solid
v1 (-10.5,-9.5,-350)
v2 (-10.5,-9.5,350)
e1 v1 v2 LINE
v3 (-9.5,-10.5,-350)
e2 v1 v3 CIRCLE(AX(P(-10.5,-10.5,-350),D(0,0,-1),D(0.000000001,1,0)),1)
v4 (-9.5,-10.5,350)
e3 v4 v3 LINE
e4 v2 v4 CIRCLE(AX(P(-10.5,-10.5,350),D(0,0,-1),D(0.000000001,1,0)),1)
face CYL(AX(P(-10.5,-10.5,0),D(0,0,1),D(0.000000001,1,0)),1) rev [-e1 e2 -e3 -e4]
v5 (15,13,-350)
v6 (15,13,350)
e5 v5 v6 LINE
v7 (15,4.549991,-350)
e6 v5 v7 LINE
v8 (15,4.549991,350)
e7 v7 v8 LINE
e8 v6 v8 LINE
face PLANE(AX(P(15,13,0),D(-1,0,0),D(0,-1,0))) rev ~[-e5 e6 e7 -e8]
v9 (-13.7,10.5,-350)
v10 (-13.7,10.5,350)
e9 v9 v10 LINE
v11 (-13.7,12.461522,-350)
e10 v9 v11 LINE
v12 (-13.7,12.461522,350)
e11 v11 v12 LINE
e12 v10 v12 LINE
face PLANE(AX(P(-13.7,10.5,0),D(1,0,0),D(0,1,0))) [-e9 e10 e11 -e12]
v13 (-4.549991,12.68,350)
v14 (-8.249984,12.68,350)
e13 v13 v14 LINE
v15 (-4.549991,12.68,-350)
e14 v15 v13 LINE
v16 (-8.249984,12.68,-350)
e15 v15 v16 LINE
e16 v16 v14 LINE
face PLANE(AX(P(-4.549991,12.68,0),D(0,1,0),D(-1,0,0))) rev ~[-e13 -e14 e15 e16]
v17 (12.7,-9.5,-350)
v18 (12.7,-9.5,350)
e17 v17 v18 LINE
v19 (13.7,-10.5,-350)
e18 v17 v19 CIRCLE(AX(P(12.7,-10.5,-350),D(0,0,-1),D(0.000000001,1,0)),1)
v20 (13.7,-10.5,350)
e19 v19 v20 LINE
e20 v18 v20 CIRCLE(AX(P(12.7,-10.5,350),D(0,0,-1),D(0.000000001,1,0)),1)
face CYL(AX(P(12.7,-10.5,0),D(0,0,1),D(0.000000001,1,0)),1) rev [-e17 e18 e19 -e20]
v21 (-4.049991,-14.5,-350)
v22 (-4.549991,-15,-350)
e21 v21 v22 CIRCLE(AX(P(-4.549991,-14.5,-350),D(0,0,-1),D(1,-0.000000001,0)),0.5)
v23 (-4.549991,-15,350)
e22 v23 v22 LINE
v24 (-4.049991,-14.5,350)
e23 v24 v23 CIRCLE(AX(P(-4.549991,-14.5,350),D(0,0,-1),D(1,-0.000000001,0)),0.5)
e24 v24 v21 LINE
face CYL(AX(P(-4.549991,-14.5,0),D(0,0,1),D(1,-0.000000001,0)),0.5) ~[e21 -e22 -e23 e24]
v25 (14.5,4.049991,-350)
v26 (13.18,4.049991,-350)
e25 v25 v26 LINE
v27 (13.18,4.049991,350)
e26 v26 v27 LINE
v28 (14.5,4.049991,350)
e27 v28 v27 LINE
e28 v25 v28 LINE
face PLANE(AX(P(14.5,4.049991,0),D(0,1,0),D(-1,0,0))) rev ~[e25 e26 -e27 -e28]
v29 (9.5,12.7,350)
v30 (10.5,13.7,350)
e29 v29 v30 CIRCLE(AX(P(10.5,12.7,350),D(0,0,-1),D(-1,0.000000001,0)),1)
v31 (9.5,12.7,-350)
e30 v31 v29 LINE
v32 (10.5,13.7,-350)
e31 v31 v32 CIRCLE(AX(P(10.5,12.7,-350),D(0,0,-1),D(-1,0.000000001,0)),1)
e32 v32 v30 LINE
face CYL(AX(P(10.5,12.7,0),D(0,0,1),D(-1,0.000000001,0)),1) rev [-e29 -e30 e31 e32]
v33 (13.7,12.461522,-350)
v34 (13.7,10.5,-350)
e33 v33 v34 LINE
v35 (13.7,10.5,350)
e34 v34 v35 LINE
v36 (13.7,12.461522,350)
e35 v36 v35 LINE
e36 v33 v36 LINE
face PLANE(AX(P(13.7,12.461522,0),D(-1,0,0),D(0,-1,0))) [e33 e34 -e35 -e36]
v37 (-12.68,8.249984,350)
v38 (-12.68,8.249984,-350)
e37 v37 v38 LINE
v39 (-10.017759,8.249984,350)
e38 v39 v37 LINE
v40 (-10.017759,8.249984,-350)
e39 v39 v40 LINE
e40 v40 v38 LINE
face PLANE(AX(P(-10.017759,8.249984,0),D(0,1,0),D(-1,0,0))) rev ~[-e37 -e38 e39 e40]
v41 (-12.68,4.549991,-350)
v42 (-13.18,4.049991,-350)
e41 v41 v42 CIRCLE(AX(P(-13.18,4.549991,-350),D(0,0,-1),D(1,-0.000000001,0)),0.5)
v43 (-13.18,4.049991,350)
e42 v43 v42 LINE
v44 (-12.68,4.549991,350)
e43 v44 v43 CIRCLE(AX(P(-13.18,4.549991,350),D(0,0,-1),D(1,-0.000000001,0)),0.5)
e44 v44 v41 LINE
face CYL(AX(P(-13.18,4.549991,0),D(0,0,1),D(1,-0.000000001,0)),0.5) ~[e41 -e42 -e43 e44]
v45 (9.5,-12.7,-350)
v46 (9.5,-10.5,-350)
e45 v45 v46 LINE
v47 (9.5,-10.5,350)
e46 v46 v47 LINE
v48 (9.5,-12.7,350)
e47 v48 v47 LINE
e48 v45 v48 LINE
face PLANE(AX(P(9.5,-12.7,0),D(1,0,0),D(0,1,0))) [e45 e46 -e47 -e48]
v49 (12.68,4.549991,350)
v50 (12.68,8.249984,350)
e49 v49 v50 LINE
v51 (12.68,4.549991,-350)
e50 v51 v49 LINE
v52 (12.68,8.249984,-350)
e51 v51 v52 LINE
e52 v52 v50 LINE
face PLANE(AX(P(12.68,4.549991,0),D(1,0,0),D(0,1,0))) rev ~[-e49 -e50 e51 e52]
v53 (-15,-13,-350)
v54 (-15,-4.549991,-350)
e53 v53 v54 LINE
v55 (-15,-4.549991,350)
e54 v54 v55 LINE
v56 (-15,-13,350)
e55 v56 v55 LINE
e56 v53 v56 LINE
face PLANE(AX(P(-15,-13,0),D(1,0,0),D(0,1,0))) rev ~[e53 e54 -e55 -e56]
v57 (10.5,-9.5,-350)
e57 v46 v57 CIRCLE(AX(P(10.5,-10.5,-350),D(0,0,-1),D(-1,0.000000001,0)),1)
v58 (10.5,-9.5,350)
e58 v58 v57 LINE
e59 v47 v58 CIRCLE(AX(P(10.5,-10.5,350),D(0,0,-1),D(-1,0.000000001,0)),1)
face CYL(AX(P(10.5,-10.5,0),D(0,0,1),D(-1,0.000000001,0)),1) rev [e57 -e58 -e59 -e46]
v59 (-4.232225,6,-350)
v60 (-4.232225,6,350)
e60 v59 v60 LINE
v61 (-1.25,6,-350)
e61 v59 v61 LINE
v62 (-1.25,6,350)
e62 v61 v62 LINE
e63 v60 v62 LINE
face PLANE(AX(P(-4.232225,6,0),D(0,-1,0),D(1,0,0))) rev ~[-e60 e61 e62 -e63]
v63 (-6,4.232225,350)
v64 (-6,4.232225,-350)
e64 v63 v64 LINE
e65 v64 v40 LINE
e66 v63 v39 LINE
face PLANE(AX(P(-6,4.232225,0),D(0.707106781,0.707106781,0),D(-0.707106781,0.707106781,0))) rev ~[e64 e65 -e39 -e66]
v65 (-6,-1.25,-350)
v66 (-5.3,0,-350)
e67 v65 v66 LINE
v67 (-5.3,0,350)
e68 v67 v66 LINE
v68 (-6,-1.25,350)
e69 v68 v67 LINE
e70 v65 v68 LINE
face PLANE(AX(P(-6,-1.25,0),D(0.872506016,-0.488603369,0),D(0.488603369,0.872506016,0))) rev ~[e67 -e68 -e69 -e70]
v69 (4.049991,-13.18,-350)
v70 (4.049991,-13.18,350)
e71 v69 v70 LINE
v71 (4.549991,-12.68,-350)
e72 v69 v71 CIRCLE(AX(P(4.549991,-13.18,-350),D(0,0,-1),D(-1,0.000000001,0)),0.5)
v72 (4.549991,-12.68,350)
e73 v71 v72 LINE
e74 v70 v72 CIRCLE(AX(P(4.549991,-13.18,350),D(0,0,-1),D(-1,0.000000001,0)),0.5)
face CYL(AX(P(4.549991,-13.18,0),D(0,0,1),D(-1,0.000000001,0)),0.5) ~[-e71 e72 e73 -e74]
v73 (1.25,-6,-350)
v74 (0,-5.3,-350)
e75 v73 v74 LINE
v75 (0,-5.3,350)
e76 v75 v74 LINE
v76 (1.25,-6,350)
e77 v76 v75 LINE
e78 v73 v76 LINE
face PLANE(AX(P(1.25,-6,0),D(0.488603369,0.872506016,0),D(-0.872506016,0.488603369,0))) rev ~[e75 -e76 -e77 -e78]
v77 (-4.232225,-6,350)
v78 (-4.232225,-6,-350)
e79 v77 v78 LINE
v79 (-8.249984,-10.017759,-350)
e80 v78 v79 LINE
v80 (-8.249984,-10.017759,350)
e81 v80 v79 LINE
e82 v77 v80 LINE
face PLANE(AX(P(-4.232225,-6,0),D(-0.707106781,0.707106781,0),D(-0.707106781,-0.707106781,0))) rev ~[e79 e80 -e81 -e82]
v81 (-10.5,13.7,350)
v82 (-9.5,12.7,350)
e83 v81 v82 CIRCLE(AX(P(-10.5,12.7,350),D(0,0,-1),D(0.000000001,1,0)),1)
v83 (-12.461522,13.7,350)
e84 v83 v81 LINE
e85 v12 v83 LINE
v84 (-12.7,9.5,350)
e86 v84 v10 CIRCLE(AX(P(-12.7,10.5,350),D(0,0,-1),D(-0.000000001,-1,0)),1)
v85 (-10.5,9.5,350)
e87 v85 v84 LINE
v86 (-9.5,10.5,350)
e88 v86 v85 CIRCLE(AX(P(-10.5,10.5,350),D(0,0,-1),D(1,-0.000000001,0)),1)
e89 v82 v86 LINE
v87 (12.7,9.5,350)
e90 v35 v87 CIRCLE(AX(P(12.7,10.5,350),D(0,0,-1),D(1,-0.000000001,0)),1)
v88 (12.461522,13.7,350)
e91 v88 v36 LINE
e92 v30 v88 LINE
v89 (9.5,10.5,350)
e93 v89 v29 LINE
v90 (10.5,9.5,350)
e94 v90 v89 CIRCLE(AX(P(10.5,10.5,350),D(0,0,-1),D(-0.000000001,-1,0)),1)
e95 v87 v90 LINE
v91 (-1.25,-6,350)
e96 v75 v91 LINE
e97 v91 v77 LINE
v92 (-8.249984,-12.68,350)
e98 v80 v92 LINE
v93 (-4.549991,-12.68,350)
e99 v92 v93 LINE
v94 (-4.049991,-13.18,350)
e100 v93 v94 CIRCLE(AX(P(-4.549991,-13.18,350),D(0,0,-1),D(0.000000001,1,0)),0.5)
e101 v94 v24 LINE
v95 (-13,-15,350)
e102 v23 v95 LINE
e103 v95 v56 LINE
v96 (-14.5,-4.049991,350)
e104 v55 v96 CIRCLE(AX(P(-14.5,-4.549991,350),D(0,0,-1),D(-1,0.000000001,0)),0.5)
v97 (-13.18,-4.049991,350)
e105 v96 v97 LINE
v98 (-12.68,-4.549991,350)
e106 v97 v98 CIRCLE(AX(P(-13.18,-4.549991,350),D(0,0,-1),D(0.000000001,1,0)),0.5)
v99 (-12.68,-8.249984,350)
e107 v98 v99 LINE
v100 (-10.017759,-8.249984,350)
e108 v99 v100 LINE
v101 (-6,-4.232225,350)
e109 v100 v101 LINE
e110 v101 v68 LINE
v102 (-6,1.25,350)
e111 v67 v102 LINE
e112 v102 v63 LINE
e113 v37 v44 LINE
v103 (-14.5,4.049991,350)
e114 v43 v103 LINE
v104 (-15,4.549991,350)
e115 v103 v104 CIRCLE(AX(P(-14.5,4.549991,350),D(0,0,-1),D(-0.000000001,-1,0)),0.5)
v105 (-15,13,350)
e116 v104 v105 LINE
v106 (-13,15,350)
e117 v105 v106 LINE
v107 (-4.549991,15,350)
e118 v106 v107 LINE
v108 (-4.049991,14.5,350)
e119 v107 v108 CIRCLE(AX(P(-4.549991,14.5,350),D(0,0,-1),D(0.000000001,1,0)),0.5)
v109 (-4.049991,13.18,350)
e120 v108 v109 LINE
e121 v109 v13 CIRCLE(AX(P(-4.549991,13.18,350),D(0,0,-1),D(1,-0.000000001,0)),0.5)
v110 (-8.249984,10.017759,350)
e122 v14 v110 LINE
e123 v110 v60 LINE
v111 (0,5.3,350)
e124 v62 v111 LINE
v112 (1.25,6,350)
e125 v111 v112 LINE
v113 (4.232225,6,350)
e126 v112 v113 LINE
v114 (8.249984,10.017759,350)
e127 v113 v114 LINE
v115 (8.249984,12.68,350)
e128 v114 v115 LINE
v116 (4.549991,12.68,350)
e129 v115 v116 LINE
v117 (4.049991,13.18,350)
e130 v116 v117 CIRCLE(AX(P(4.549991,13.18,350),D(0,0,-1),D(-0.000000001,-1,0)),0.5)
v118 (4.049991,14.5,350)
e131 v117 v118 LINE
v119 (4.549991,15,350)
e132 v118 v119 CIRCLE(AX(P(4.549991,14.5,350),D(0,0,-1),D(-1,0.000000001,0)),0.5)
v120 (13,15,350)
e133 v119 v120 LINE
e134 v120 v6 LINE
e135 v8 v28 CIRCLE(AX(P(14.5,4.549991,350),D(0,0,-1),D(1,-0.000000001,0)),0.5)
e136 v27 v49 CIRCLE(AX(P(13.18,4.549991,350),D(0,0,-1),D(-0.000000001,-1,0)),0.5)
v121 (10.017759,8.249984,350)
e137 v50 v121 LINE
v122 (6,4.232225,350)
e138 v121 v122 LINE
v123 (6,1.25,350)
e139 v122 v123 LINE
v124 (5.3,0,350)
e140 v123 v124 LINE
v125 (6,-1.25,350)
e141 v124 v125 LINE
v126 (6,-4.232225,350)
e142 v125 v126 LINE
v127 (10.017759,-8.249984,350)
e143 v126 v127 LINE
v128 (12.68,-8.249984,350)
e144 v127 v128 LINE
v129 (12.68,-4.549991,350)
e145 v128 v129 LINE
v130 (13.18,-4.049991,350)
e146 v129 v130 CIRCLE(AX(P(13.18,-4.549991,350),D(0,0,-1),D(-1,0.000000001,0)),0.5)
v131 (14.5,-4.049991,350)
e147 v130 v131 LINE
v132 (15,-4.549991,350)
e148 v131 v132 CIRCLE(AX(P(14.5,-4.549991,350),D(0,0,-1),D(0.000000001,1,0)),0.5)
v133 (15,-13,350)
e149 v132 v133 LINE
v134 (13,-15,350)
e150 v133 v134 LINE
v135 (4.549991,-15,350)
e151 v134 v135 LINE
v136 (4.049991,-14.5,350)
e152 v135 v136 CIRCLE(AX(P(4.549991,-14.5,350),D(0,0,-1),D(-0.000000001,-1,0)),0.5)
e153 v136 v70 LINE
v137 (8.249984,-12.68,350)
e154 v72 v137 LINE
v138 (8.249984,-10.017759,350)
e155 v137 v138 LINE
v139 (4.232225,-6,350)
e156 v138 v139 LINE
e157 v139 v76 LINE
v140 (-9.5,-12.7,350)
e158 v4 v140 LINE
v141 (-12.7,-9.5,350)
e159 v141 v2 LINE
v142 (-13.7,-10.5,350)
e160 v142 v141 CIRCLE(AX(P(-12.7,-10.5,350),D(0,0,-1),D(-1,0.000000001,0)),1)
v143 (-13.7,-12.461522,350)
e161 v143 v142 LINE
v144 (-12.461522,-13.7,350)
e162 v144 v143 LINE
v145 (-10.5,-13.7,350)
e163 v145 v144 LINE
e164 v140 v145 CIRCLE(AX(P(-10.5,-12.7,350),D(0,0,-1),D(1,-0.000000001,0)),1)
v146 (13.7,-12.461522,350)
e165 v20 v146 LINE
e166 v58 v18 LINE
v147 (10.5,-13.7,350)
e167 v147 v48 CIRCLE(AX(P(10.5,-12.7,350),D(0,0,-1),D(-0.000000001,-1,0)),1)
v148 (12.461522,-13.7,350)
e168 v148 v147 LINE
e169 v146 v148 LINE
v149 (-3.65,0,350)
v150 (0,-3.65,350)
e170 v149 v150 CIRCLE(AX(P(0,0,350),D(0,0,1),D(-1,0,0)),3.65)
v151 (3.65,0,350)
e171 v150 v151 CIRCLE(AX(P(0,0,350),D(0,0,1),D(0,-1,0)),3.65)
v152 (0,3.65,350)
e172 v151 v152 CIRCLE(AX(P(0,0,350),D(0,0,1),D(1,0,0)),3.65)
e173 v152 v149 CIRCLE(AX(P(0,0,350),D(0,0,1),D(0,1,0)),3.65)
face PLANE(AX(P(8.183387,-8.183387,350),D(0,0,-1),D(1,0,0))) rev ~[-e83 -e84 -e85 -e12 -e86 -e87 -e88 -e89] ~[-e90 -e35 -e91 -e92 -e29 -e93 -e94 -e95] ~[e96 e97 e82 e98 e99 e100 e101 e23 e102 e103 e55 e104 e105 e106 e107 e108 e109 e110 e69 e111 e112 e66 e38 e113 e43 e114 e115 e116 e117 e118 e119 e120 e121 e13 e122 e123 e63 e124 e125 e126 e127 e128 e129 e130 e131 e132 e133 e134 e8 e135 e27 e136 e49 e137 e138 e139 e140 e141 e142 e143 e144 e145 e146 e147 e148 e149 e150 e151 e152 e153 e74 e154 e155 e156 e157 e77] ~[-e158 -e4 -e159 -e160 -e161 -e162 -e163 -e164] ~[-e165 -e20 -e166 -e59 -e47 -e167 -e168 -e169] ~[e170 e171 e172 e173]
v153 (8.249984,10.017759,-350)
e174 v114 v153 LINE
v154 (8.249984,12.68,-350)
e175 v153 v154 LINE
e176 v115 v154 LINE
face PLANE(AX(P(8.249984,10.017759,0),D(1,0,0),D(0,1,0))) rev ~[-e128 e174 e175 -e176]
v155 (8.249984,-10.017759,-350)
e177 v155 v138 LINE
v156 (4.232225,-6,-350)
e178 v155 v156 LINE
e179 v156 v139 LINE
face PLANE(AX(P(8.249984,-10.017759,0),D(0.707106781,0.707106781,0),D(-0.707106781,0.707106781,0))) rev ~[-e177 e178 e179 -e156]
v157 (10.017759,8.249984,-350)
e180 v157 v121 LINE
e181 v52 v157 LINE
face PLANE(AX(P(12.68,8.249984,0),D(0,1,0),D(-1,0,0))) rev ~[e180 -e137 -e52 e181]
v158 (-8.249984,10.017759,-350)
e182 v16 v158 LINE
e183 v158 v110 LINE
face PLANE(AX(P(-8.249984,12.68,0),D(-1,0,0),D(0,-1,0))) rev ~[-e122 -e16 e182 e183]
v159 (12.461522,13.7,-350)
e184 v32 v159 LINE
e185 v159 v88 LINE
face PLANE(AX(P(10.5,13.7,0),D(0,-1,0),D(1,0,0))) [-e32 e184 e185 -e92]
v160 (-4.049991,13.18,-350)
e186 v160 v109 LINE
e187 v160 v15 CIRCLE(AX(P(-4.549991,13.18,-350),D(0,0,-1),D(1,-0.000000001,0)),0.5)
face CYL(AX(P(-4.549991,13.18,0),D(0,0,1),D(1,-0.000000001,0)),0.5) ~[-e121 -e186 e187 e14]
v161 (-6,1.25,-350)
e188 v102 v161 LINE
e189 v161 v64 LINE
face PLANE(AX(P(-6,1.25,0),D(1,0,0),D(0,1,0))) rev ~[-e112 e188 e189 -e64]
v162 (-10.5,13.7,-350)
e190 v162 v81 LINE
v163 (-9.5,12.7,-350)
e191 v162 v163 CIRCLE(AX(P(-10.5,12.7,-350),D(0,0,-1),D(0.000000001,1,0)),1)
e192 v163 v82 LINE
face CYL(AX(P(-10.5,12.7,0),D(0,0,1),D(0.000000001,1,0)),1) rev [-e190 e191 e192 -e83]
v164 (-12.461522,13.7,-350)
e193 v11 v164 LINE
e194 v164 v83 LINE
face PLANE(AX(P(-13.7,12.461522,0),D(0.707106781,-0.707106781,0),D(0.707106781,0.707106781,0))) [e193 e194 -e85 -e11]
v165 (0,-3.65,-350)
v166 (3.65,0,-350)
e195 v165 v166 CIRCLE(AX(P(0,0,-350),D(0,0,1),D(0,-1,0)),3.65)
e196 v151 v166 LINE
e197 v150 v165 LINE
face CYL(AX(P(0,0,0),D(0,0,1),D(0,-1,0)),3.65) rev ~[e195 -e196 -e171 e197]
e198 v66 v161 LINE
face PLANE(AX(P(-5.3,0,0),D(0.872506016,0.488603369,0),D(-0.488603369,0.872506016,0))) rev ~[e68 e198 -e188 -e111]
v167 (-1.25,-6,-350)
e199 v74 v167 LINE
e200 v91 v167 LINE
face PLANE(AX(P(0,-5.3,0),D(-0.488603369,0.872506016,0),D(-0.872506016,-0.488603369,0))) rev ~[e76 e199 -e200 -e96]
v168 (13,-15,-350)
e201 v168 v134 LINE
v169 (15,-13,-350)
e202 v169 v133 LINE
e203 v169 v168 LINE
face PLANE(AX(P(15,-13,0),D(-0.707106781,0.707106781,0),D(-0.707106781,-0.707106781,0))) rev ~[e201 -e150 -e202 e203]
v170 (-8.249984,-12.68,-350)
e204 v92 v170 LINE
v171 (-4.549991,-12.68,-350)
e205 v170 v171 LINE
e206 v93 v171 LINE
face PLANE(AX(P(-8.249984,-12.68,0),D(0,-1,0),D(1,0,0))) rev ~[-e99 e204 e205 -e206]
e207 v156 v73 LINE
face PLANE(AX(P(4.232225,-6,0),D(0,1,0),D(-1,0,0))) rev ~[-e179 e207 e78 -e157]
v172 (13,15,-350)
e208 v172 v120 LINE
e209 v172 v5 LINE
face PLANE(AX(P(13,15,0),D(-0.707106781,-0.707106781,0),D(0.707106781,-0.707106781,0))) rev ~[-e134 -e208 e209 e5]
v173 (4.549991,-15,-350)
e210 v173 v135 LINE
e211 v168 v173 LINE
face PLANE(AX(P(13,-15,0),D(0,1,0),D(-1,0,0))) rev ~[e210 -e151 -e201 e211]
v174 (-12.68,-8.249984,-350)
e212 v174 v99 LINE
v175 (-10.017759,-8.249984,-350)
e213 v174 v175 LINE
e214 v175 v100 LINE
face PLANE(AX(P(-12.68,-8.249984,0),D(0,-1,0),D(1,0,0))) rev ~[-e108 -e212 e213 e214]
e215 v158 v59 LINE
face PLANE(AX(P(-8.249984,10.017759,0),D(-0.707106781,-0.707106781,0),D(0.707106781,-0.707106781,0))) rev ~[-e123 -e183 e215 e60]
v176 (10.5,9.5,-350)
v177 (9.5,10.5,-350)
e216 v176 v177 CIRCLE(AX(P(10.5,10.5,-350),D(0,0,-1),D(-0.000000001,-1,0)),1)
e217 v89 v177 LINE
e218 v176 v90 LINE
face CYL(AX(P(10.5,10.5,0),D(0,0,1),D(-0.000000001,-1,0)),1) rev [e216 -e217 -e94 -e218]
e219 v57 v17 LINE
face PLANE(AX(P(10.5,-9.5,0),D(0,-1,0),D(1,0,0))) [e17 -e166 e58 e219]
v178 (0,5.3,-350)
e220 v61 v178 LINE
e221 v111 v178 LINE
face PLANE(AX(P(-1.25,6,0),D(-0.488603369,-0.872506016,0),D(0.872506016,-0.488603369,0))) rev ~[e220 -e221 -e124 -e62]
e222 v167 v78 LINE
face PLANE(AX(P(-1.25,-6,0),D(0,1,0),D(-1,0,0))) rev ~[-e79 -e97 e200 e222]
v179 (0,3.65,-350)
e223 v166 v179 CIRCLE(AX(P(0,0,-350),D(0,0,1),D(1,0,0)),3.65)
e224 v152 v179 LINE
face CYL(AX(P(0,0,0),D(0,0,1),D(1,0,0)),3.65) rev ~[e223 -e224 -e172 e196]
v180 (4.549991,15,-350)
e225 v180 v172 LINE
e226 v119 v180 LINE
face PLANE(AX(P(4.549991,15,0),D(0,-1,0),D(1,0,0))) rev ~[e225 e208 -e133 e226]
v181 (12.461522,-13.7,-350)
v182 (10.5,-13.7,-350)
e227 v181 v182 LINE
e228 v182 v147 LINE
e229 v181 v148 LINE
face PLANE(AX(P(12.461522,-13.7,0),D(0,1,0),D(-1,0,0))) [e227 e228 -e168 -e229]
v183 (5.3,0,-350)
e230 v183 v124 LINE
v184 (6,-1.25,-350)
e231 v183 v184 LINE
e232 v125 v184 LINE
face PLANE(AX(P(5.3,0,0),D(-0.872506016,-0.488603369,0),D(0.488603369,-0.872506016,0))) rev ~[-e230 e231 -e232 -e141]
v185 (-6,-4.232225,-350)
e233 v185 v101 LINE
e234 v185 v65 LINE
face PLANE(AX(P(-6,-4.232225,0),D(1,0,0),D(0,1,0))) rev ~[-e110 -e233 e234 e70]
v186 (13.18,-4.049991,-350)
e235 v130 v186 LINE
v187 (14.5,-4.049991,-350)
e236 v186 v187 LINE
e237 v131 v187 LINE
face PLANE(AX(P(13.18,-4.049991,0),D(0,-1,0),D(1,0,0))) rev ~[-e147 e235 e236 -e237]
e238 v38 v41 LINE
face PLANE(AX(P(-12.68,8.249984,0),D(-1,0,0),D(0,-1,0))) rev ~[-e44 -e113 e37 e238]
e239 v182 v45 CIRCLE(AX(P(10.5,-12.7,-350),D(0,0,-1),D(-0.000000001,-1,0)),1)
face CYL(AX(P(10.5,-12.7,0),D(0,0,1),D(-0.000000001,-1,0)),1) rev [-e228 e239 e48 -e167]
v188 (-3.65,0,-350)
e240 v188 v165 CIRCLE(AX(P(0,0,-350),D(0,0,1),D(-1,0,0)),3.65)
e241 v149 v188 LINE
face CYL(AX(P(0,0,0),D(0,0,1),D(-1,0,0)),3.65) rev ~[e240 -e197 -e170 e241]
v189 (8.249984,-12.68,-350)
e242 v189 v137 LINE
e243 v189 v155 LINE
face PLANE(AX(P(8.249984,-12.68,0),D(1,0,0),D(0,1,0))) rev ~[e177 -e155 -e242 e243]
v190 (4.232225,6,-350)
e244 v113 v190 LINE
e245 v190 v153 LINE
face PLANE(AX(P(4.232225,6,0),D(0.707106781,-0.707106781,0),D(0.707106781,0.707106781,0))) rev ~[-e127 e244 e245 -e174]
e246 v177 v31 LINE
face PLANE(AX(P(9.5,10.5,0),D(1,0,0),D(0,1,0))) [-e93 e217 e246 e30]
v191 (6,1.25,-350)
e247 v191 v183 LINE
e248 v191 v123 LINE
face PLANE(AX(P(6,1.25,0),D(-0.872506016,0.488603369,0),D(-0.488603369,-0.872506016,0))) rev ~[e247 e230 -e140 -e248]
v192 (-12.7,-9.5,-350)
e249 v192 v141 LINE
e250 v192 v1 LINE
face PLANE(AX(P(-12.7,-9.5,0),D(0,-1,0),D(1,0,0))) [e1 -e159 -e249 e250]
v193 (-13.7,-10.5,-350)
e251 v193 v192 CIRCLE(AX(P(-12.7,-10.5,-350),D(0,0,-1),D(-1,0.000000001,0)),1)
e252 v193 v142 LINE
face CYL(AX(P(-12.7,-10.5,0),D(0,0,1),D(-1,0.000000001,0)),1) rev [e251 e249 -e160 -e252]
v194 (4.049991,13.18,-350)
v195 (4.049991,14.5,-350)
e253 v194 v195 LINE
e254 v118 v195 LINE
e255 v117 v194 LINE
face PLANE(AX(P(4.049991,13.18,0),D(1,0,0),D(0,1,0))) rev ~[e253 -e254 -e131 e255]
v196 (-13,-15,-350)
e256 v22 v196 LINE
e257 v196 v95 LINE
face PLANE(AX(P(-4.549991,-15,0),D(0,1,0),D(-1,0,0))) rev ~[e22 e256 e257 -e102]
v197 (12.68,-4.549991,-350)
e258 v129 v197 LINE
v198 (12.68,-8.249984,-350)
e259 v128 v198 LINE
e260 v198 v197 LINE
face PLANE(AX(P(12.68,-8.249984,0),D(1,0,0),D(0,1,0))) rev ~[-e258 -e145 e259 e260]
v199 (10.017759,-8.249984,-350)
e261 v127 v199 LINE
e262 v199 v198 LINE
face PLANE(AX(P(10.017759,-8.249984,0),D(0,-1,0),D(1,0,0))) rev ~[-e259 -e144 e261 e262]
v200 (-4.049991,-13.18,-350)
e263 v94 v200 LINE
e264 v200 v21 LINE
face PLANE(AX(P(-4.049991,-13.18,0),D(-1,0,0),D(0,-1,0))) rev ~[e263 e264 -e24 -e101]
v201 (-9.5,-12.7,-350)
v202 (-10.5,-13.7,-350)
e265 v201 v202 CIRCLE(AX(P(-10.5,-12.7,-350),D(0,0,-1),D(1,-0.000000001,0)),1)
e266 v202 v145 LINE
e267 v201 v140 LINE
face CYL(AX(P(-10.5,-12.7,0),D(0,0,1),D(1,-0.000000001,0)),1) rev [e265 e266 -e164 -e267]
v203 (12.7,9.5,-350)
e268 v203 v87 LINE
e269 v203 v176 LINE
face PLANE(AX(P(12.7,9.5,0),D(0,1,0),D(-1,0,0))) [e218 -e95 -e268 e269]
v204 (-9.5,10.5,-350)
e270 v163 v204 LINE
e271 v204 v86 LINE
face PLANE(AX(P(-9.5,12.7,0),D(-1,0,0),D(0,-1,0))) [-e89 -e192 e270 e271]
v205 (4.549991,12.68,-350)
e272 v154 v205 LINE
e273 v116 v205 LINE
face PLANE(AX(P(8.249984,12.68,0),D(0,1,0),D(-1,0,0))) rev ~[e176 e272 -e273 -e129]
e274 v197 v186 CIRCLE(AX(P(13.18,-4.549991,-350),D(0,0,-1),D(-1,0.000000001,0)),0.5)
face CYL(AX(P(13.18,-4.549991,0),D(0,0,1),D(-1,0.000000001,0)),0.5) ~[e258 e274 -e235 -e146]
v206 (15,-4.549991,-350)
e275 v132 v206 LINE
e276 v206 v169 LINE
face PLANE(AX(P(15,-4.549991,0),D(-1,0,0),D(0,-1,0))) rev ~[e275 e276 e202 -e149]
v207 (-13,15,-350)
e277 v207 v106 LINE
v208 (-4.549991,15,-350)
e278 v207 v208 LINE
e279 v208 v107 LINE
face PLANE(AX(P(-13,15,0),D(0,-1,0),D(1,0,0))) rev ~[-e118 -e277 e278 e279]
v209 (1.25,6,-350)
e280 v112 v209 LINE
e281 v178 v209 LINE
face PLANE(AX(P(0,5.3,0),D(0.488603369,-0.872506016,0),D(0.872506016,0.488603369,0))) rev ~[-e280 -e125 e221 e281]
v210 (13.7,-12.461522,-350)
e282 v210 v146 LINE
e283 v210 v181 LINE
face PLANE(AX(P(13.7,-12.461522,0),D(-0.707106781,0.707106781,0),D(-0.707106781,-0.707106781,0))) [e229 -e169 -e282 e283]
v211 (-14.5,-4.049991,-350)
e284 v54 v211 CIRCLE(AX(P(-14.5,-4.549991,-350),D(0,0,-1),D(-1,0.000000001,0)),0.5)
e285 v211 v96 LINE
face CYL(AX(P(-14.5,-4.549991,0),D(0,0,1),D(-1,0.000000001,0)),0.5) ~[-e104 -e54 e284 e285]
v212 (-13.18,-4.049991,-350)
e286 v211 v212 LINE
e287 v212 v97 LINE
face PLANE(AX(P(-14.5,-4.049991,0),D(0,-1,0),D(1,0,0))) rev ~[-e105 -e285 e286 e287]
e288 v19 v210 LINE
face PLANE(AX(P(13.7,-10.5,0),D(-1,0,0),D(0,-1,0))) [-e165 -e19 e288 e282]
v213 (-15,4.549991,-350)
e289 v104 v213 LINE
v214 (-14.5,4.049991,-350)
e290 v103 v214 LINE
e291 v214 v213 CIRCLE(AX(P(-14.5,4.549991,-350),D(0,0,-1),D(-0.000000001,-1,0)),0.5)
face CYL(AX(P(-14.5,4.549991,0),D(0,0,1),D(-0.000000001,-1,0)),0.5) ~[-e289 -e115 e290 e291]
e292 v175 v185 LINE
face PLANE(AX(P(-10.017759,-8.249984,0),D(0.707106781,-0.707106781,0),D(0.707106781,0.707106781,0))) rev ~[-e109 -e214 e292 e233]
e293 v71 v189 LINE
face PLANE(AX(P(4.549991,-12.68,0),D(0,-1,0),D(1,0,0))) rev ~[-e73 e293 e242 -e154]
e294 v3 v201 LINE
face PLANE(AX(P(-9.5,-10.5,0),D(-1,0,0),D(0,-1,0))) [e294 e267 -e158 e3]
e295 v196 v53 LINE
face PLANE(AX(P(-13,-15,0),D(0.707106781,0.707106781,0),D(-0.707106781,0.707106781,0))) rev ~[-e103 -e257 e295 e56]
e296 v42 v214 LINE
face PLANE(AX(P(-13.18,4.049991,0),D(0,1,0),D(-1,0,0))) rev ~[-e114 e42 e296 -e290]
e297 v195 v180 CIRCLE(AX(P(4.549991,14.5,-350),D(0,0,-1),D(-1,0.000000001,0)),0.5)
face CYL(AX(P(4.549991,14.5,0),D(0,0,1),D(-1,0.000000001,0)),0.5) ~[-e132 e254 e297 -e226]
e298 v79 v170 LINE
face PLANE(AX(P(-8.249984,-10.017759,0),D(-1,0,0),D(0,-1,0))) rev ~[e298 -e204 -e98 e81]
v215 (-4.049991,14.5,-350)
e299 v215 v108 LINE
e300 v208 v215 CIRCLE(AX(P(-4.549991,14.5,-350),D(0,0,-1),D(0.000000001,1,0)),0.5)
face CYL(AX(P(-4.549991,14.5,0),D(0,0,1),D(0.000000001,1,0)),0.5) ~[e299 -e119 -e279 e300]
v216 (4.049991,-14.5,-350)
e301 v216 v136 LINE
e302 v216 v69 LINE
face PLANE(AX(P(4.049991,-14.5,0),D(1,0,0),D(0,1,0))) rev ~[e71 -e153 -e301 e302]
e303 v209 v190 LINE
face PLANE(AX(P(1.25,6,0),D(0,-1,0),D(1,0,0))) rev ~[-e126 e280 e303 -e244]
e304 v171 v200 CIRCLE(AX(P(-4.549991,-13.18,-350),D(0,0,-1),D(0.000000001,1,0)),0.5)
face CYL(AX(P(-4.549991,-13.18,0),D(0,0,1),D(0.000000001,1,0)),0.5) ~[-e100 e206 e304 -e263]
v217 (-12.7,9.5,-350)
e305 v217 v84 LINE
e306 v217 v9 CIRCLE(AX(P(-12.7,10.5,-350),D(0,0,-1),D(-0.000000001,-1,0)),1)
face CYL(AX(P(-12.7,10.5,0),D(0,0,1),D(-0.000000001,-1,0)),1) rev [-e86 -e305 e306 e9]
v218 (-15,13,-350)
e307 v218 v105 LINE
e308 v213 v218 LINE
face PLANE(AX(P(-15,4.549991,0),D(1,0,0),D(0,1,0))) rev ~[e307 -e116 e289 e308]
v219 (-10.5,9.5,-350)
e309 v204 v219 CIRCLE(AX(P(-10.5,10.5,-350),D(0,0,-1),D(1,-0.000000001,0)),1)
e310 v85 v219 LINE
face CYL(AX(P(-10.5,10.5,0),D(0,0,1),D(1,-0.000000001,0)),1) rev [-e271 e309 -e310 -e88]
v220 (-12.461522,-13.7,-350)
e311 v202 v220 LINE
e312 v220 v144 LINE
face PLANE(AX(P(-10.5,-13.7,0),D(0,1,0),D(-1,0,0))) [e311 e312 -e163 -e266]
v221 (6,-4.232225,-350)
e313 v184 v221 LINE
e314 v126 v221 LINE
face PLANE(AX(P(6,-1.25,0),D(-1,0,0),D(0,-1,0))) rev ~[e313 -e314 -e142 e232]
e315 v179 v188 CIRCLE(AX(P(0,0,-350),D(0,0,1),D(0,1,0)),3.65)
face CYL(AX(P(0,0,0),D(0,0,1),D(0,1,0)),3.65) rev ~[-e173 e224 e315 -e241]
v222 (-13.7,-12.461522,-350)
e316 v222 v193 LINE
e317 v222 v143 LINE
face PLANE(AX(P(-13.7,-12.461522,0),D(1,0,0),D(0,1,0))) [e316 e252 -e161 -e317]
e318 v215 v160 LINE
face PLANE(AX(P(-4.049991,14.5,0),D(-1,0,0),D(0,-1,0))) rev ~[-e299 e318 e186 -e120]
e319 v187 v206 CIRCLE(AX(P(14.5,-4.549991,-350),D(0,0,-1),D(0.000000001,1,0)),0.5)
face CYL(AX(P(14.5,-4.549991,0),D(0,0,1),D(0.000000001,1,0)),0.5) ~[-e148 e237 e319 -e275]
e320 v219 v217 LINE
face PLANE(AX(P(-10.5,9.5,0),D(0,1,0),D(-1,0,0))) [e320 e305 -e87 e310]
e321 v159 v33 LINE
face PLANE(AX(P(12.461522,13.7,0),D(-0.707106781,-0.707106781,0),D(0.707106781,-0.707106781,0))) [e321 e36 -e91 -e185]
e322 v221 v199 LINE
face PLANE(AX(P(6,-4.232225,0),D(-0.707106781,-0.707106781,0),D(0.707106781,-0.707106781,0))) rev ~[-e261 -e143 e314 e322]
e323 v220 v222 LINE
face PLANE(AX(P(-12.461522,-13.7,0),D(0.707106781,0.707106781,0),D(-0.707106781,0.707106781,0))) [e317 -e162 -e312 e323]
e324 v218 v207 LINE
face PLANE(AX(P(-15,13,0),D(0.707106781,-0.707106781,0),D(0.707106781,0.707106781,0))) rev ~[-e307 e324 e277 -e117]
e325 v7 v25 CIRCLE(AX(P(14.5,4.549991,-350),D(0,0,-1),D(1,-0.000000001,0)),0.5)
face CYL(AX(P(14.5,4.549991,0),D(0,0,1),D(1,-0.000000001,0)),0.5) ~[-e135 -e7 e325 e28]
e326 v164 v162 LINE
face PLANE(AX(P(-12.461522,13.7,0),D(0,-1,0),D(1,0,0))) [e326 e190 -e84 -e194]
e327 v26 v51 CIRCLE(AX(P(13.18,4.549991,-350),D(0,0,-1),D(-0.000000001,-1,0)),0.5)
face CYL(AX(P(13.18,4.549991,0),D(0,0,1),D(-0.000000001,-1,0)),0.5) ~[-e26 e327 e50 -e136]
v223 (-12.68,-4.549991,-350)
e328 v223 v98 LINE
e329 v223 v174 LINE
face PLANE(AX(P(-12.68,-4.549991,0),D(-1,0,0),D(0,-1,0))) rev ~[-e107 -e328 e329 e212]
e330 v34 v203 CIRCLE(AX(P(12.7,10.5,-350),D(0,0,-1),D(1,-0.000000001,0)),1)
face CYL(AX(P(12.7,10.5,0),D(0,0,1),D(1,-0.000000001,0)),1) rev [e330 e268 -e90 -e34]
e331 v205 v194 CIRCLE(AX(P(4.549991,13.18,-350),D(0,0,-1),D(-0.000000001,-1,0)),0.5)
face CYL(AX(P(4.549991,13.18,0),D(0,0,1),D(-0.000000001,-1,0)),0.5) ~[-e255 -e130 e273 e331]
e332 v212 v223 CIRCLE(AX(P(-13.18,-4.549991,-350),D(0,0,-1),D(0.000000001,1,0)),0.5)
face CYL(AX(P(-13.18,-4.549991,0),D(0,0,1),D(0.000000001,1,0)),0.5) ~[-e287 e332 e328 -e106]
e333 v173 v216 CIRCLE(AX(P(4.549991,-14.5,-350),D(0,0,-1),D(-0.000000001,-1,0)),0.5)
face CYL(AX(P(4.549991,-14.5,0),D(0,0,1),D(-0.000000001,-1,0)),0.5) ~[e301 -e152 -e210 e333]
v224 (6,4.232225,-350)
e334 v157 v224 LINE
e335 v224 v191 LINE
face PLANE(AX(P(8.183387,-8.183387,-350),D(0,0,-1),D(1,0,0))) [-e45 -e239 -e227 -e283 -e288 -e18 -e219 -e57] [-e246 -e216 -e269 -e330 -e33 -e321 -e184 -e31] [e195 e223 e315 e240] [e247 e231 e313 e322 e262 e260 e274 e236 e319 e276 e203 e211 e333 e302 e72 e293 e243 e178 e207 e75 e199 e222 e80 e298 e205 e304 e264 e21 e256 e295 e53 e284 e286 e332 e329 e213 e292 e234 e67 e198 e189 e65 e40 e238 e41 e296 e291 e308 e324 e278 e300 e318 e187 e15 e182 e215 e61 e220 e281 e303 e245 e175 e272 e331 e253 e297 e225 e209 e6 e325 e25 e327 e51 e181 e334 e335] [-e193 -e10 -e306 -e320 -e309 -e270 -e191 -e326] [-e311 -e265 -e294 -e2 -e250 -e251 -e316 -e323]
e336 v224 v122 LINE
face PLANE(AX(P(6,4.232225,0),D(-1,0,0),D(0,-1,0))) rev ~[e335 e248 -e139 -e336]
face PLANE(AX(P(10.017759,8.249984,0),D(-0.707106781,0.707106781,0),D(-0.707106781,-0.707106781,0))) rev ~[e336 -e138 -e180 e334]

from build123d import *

# Parameters (mm, degrees)
BOSS_EXTRUDE1_DEPTH = 350
CIRPATTERN1_COUNT   = 4


with BuildPart() as part:
    # Sketch1 → Boss-Extrude1 (new, symmetric)
    with BuildSketch(Plane(origin=(0, 0, 0), x_dir=(0, -1, 0), z_dir=(0, 0, 1))):
        with BuildLine():
            Line((0, 5.3), (0, 3.65))
            ThreePointArc((0, 3.65), (-2.580939751, 2.580939751), (-3.65, 0))
            Line((-3.65, 0), (-5.3, 0))
            Line((-5.3, 0), (-6, 1.25))
            Line((-6, 1.25), (-6, 4.232224593))
            Line((-6, 4.232224593), (-10.01775891, 8.249983504))
            Line((-10.01775891, 8.249983504), (-12.68, 8.249983504))
            Line((-12.68, 8.249983504), (-12.68, 4.549990808))
            ThreePointArc((-12.68, 4.549990808), (-12.826446609, 4.196437418), (-13.18, 4.049990808))
            Line((-13.18, 4.049990808), (-14.5, 4.049990808))
            ThreePointArc((-14.5, 4.049990808), (-14.853553391, 4.196437418), (-15, 4.549990808))
            Line((-15, 4.549990808), (-15, 13))
            Line((-15, 13), (-13, 15))
            Line((-13, 15), (-4.549990808, 15))
            ThreePointArc((-4.549990808, 15), (-4.196437418, 14.853553391), (-4.049990808, 14.5))
            Line((-4.049990808, 14.5), (-4.049990808, 13.18))
            ThreePointArc((-4.049990808, 13.18), (-4.196437418, 12.826446609), (-4.549990808, 12.68))
            Line((-4.549990808, 12.68), (-8.249983504, 12.68))
            Line((-8.249983504, 12.68), (-8.249983504, 10.01775891))
            Line((-8.249983504, 10.01775891), (-4.232224593, 6))
            Line((-4.232224593, 6), (-1.25, 6))
            Line((-1.25, 6), (0, 5.3))
        make_face()
        with BuildLine():
            Line((-10.5, 9.5), (-12.7, 9.5))
            ThreePointArc((-12.7, 9.5), (-13.407106781, 9.792893219), (-13.7, 10.5))
            Line((-13.7, 10.5), (-13.7, 12.461522369))
            Line((-13.7, 12.461522369), (-12.461522369, 13.7))
            Line((-12.461522369, 13.7), (-10.5, 13.7))
            ThreePointArc((-10.5, 13.7), (-9.792893219, 13.407106781), (-9.5, 12.7))
            Line((-9.5, 12.7), (-9.5, 10.5))
            ThreePointArc((-9.5, 10.5), (-9.792893219, 9.792893219), (-10.5, 9.5))
        make_face(mode=Mode.SUBTRACT)
    boss_extrude1 = extrude(amount=BOSS_EXTRUDE1_DEPTH, both=True)

    # CirPattern1: Boss-Extrude1 ×4 about axis
    cirpattern1_axis = Axis((0, 0, 330), (0, 0, -1))
    for i in range(1, CIRPATTERN1_COUNT):
        add(boss_extrude1.rotate(cirpattern1_axis, i * 360 / CIRPATTERN1_COUNT))


solid = part.part
